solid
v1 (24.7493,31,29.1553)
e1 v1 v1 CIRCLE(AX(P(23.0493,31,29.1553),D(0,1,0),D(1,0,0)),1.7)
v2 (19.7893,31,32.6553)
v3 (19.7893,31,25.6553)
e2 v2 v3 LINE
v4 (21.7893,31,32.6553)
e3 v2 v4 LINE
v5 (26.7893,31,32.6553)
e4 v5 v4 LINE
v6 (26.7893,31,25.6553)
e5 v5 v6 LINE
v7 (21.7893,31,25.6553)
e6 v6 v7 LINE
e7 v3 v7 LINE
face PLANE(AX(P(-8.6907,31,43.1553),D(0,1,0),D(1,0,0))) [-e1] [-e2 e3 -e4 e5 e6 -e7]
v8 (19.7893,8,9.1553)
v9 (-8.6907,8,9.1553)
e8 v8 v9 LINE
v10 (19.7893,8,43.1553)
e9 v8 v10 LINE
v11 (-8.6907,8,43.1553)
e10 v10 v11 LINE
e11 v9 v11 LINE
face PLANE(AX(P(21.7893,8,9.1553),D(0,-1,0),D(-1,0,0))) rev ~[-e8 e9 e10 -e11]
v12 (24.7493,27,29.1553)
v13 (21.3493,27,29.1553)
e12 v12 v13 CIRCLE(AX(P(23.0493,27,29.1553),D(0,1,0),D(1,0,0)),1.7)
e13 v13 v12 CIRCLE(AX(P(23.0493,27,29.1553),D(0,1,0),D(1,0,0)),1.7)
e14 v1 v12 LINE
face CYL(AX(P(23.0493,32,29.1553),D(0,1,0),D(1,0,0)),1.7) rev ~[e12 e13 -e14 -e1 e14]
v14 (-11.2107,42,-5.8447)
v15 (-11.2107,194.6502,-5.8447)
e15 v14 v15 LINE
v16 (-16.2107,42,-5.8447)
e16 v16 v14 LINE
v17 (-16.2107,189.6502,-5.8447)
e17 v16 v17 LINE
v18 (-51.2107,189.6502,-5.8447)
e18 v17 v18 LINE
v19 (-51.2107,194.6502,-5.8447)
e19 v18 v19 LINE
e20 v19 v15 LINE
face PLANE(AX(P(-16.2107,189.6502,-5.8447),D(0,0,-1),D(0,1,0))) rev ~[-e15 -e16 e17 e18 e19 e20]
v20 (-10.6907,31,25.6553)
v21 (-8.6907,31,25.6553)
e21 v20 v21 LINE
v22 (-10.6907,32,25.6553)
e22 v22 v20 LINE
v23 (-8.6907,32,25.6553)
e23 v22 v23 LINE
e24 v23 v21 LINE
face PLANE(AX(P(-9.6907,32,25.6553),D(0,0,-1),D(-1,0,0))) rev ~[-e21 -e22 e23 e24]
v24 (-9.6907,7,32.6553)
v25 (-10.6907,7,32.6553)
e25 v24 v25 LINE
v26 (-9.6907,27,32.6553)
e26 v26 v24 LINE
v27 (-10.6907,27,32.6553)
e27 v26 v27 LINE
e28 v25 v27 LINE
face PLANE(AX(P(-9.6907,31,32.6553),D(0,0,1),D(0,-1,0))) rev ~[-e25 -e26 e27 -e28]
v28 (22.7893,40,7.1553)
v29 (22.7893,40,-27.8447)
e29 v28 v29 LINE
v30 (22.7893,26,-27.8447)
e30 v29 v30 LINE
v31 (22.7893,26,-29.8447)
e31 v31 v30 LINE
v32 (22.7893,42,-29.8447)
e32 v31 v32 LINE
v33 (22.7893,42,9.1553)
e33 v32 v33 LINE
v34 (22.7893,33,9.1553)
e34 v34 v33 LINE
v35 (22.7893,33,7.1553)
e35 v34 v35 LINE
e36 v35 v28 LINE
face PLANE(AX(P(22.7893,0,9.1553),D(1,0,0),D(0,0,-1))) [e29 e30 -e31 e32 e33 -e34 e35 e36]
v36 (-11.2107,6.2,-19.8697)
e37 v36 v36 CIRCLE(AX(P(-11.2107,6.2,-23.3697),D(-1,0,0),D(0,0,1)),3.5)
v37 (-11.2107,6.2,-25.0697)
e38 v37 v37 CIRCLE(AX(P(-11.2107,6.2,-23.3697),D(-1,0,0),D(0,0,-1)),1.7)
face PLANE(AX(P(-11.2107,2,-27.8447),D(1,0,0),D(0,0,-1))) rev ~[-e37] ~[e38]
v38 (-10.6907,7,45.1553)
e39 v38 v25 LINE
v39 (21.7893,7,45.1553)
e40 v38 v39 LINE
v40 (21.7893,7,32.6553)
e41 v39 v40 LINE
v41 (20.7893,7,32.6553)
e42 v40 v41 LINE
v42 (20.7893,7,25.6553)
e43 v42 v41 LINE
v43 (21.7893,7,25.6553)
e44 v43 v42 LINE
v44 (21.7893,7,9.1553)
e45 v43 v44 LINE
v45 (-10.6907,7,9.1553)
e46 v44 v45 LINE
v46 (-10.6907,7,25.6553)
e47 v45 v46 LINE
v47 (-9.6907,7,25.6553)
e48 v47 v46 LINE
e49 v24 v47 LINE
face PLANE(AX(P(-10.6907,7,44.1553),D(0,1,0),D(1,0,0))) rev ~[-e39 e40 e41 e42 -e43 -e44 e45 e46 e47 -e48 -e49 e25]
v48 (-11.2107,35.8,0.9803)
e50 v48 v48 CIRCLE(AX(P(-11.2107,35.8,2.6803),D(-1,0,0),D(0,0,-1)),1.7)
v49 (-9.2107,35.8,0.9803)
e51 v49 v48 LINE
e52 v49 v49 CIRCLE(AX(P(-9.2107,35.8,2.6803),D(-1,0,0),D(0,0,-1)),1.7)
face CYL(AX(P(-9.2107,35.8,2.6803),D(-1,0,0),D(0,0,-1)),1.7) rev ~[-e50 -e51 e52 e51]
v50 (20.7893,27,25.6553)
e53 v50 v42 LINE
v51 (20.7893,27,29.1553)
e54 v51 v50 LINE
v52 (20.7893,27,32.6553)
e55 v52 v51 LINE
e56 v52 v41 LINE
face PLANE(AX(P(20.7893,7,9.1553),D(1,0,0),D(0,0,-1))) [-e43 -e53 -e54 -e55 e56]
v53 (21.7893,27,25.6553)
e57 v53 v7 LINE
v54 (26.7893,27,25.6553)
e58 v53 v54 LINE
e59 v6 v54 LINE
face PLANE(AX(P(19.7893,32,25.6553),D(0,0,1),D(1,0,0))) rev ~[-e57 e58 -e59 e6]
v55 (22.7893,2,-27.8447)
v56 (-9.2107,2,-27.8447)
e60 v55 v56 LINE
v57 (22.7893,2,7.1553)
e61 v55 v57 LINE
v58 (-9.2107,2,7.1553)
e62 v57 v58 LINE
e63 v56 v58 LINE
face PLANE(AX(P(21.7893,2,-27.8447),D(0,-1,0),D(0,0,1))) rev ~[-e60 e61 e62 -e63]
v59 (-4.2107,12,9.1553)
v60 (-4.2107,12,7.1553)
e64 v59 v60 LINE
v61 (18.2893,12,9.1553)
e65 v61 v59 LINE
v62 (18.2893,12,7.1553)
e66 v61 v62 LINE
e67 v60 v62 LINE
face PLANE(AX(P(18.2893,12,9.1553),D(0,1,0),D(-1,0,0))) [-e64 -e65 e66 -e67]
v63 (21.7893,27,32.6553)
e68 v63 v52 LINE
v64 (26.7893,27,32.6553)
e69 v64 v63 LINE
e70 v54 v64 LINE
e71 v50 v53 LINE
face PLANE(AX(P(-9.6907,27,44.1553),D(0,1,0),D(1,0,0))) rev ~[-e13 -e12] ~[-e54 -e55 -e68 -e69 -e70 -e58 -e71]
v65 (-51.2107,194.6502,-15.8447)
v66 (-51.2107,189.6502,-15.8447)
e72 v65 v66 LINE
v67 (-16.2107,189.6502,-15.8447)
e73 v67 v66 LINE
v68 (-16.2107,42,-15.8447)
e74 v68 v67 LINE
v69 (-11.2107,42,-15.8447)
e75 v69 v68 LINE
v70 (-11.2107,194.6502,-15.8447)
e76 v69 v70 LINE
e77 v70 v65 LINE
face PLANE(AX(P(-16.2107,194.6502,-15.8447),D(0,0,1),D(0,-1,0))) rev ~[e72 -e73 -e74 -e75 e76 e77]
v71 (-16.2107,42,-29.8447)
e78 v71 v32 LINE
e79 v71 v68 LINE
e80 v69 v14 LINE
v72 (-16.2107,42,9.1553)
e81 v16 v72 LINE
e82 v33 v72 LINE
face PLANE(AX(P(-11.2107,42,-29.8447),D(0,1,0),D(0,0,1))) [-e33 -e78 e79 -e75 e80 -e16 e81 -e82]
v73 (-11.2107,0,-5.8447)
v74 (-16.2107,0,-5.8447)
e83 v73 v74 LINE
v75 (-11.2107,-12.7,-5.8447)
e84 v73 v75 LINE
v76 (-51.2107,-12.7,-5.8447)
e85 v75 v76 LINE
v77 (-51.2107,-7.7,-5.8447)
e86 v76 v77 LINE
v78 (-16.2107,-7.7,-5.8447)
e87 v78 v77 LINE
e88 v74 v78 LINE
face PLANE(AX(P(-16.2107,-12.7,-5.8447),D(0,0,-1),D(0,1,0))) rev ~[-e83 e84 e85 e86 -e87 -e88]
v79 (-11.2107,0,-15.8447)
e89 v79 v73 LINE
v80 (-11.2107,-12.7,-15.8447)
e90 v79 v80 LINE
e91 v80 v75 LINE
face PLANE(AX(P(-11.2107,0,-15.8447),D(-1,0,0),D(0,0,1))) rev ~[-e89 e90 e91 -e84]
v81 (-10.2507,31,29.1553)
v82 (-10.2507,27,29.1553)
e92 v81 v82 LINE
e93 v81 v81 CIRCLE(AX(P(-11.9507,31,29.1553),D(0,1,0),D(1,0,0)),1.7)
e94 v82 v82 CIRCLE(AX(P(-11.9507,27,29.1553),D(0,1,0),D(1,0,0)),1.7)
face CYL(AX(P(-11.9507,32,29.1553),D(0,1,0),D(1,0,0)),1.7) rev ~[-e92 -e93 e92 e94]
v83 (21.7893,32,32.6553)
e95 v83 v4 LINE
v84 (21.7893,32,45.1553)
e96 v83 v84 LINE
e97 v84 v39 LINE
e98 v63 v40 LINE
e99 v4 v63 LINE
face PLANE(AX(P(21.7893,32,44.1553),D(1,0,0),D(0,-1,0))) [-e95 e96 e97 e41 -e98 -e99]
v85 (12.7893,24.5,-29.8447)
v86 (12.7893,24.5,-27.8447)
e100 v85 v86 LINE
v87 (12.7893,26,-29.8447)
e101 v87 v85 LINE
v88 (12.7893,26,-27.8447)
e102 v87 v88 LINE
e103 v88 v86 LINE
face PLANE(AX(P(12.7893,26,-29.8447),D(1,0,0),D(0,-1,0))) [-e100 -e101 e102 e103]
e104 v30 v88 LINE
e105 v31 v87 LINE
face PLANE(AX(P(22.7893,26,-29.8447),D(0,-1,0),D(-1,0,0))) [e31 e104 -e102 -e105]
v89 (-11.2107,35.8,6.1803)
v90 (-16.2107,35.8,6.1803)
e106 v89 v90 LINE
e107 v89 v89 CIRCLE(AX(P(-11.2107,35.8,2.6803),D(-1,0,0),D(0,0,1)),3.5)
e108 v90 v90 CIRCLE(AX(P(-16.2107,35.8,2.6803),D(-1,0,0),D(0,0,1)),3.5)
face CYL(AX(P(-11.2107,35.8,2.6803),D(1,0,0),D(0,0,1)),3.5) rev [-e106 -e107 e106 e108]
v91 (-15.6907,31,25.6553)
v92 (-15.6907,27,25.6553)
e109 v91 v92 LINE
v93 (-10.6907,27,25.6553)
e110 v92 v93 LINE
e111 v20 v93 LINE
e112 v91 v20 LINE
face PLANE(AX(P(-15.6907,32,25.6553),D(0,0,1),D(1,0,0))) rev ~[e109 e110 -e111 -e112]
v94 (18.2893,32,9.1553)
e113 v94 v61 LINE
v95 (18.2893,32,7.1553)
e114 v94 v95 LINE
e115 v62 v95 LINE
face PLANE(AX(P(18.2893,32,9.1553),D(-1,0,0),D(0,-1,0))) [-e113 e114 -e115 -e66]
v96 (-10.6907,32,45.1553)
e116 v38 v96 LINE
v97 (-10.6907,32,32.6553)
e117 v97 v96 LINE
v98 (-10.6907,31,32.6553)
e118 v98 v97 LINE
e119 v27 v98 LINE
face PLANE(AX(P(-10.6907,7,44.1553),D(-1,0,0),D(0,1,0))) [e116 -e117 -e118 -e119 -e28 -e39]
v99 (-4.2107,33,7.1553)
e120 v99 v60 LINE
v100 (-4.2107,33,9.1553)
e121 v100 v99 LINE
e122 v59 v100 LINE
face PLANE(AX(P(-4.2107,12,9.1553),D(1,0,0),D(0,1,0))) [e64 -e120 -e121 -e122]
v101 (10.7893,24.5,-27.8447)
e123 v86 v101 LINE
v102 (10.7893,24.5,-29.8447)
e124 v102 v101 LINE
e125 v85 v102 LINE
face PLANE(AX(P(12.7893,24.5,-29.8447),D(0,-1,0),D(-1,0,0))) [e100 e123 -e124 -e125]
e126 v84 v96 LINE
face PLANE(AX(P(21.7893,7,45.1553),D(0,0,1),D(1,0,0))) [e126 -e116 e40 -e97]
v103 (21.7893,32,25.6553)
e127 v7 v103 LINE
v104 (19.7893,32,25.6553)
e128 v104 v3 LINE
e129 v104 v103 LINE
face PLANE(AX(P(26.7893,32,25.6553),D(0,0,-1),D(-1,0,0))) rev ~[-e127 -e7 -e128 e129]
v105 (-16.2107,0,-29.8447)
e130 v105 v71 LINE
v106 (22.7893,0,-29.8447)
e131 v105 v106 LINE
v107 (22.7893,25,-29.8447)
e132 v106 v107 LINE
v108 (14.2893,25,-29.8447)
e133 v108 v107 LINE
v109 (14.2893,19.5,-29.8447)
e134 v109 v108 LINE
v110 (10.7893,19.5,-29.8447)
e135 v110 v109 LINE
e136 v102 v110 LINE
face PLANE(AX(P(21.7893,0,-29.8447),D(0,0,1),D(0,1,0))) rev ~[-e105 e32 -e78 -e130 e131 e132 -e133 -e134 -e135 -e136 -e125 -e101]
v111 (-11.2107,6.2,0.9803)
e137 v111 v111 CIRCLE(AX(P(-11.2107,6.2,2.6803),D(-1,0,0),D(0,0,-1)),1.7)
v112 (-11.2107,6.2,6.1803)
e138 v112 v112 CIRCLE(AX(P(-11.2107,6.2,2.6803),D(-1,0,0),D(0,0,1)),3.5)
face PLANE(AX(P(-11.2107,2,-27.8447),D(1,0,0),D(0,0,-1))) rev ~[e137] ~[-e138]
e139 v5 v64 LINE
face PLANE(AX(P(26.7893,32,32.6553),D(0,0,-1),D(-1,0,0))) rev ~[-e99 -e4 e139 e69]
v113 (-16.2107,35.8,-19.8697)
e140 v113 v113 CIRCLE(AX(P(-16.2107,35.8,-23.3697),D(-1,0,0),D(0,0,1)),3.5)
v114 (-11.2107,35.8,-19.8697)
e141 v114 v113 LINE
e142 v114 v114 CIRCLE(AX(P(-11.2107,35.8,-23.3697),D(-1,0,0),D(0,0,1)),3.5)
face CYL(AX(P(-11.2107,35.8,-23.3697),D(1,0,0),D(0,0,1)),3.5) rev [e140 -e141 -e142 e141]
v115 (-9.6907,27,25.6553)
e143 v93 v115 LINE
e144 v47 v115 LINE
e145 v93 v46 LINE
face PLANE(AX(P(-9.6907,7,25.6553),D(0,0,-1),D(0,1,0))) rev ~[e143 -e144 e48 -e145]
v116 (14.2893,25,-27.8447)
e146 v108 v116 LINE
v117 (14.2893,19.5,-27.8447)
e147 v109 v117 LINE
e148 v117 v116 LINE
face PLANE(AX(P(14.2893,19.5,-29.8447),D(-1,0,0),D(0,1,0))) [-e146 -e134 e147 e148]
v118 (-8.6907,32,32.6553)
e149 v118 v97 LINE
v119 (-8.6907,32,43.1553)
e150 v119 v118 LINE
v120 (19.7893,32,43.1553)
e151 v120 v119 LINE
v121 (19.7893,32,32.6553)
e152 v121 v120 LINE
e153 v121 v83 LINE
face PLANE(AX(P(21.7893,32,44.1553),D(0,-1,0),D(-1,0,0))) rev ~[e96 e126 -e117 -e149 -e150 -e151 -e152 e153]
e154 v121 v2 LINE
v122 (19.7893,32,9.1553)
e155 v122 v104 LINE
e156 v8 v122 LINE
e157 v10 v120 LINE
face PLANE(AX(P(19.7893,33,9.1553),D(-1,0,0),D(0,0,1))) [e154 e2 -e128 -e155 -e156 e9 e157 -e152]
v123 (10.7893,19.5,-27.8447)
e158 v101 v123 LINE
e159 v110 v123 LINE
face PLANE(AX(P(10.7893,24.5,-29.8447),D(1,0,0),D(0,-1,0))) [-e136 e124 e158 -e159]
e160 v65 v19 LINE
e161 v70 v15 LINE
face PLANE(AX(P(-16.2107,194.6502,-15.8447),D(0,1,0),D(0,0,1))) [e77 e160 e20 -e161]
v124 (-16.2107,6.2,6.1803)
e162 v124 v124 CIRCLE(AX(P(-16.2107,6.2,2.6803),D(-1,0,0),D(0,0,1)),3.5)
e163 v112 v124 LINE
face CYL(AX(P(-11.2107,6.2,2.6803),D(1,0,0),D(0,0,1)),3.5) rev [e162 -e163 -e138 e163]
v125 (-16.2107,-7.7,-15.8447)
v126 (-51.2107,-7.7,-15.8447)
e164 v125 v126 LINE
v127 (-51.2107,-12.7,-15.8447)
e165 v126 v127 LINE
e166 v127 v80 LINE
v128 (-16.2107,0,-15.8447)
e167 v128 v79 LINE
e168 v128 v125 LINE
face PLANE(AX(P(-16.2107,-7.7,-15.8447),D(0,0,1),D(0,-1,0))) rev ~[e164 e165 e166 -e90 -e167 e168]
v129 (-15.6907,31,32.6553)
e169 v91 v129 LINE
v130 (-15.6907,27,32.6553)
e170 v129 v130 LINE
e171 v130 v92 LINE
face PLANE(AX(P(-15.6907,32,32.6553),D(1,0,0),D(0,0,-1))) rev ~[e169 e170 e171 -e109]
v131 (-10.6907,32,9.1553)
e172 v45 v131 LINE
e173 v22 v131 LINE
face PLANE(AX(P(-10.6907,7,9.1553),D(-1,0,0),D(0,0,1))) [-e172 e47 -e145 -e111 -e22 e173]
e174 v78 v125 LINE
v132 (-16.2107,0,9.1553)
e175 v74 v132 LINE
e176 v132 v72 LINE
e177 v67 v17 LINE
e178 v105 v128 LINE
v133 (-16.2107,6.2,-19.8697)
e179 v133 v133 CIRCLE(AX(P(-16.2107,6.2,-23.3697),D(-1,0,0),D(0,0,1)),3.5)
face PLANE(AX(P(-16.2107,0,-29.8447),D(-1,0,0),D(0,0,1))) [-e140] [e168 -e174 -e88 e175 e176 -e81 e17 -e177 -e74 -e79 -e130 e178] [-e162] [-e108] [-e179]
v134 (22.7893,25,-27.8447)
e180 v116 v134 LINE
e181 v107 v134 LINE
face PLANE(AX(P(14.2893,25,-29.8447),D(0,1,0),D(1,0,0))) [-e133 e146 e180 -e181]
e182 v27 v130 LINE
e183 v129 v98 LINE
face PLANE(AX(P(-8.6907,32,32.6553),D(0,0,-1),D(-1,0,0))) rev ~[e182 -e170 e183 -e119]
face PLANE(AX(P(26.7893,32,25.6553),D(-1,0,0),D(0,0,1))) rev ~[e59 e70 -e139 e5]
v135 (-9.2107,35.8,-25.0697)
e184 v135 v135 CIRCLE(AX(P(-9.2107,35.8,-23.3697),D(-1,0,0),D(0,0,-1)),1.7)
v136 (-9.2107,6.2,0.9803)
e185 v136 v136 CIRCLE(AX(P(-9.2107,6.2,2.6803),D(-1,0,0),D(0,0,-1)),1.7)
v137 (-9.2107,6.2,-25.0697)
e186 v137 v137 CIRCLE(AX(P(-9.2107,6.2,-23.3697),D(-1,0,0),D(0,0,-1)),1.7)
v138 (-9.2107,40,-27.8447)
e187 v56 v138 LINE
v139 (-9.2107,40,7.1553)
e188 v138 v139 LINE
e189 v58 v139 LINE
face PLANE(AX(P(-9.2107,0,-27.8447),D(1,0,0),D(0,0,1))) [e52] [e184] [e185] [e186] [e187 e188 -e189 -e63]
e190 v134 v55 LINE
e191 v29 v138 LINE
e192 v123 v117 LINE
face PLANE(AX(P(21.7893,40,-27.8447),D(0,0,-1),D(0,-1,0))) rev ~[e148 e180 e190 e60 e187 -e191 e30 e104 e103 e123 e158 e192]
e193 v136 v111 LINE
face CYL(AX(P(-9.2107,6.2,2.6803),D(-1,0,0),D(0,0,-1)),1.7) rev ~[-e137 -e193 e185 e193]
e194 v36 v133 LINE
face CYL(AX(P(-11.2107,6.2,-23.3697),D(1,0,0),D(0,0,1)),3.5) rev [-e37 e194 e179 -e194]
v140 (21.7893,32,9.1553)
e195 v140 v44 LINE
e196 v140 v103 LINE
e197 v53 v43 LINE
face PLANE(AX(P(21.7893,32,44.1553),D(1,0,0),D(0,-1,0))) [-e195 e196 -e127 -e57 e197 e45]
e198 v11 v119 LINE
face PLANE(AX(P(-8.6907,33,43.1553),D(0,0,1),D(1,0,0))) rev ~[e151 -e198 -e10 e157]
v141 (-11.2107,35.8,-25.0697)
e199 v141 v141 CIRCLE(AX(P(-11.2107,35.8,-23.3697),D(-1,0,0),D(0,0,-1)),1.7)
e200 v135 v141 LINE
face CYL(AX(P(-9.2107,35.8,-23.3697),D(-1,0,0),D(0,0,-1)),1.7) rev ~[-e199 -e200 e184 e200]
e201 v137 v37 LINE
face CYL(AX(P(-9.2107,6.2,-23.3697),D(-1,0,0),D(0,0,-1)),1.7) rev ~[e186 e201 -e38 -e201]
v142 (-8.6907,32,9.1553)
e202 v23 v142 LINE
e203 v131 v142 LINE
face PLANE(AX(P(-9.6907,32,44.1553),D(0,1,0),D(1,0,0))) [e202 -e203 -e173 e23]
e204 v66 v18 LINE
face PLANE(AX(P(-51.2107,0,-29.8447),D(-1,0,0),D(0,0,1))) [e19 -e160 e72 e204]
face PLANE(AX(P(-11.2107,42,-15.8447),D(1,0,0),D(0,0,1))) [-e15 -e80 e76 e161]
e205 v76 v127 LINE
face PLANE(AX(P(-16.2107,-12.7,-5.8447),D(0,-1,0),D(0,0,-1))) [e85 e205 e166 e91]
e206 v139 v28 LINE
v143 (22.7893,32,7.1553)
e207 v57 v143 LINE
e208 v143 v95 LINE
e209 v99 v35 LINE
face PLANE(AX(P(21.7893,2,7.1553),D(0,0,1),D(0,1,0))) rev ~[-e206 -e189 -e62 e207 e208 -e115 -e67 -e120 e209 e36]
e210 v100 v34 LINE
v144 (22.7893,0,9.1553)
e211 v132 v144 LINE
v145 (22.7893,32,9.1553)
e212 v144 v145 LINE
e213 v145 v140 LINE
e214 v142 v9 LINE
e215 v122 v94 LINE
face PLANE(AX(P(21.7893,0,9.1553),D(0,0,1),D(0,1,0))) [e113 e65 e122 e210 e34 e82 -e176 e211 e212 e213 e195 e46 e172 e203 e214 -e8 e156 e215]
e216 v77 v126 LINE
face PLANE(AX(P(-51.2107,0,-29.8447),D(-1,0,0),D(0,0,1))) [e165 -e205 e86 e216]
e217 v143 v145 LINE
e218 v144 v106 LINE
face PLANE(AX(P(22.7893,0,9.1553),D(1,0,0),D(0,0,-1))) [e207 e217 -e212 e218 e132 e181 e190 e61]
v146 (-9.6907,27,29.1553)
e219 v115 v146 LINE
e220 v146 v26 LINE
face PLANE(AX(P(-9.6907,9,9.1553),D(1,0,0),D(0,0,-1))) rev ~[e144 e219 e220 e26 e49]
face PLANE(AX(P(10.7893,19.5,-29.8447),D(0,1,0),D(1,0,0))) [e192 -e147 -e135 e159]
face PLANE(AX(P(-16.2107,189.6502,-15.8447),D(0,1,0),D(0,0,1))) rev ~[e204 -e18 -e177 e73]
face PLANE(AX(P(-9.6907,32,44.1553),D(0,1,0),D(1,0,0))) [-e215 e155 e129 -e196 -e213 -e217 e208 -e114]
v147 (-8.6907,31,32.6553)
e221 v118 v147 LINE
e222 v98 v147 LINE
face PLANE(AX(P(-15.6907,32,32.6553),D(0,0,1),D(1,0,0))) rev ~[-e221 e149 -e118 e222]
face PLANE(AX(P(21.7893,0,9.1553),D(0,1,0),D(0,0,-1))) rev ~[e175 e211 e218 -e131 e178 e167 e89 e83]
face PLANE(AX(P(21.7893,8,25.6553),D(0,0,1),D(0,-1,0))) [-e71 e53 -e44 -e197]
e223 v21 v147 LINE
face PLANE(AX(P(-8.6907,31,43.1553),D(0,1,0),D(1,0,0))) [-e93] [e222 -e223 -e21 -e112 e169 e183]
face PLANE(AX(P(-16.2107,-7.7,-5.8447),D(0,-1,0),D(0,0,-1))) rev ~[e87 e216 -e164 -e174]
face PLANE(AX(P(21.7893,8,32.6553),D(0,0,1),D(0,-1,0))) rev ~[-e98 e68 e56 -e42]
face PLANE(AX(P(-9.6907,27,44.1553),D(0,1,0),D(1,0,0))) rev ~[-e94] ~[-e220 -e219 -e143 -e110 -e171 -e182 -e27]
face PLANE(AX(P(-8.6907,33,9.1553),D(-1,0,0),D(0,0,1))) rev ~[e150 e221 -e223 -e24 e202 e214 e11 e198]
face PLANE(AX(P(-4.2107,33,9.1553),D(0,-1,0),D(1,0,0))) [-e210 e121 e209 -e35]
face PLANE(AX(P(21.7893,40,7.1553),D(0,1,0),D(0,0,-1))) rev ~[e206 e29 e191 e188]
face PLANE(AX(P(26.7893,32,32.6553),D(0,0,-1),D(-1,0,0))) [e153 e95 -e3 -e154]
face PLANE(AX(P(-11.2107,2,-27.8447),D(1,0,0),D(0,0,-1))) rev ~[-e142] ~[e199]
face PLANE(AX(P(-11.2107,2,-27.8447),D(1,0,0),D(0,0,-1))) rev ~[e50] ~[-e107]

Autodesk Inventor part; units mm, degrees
ref_plane "YZ Plane" through (0, 0, 0) normal (1, 0, 0) x (0, 1, 0)
ref_plane "XZ Plane" through (0, 0, 0) normal (0, 1, 0) x (-1, 0, 0)
ref_plane "XY Plane" through (0, 0, 0) normal (0, 0, 1) x (1, 0, 0)
sketch "Sketch1" plane through (0, 0, 0) normal (0, 1, 0) x (-1, 0, 0)
  line L0 (9.2107, 7.1553) -> (-19.7893, 7.1553)
  line L1 (-19.7893, 7.1553) -> (-19.7893, -27.8447)
  line L2 (-19.7893, -27.8447) -> (9.2107, -27.8447)
  line L3 (9.2107, -27.8447) -> (9.2107, 7.1553)
  line L4 (9.2107, 7.1553) -> (11.2107, 7.1553)
  line L5 (11.2107, 7.1553) -> (11.2107, 9.1553)
  line L6 (11.2107, 9.1553) -> (-21.7893, 9.1553)
  line L7 (-21.7893, 9.1553) -> (-21.7893, -29.8447)
  line L8 (-21.7893, -29.8447) -> (11.2107, -29.8447)
  line L9 (11.2107, -29.8447) -> (11.2107, 7.1553)
  point P0 (0, 0)
  dimension "d0" = 29
  dimension "d1" = 35
  dimension "d2" = 2
  dimension "d3" = 2
  dimension "d4" = 33
  dimension "d5" = 39
extrude "Extrusion1" add sketch "Sketch1" along normal blind 2 contours L3 L2 L1 L0
extrude "Extrusion2" add sketch "Sketch1" along normal blind 40
sketch "Sketch2" plane through (21.7893, 0, -29.8447) normal (1, 0, 0) x (0, 0, -1)
  line L0 (-37, 2) -> (-37, 40) projected
  line L1 (-37, 40) -> (-37, 2)
  line L2 (-2, 2) -> (-2, 40) projected
  line L3 (-37, 2) -> (-2, 2)
  line L4 (-2, 2) -> (-2, 40)
  line L5 (-37, 40) -> (-2, 40) projected
  line L6 (-2, 40) -> (-37, 40)
extrude "Extrusion3" cut sketch "Sketch2" against normal blind 10
sketch "Sketch3" plane through (-9.2107, 2, -27.8447) normal (1, 0, 0) x (0, 0, -1)
  line L0 (0, 0) -> (0, 38) projected
  line L1 (0, 0) -> (0, 4.2)
  line L2 (0, 4.2) -> (-4.475, 4.2)
  line L3 (-35, 0) -> (-35, 38) projected
  line L4 (-4.475, 4.2) -> (-30.525, 4.2)
  line L5 (-30.525, 4.2) -> (-30.525, 33.8)
  line L6 (-30.525, 33.8) -> (-4.475, 33.8)
  line L7 (-4.475, 33.8) -> (-4.475, 4.2)
  point P0 (-27.8447, -2)
  dimension "d12" = 4.2
  dimension "d13" = 4.475
  dimension "d14" = 26.05
  dimension "d15" = 29.6
hole "Hole1" at (-9.2107, 35.8, 2.6803) at (-9.2107, 35.8, -23.3697) at (-9.2107, 6.2, -23.3697) at (-9.2107, 6.2, 2.6803) direction (-1, 0, 0) diameter 3.4 end through all clearance for "Flat Head Machine Screw" size "M3" standard "Ansi Metric M Profile"
sketch "Sketch4" plane through (-11.2107, 2, -27.8447) normal (1, 0, 0) x (0, 0, -1)
  line L0 (-37, 38) -> (-35, 38) projected
  line L1 (-37, 38) -> (2, 38)
  line L2 (2, 38) -> (2, 40)
  line L3 (2, 40) -> (-37, 40)
  line L4 (-37, 40) -> (-37, 38)
  point P0 (-27.8447, -2)
  dimension "d23" = 39
  dimension "d24" = 2
extrude "Extrusion4" add sketch "Sketch4" along normal blind 33
sketch "Sketch5" plane through (21.7893, 0, 9.1553) normal (1, 0, 0) x (0, 0, -1)
  point P0 (9.1553, 0)
sketch "Sketch6" plane through (-11.2107, 0, -29.8447) normal (-1, 0, 0) x (0, 0, 1)
  point P0 (29.8447, 0)
sketch "Sketch7" plane through (-11.2107, 0, -29.8447) normal (-1, 0, 0) x (0, 0, 1)
  circle A0 centre (6.475, 6.2) radius 1.7 projected
  circle A1 centre (32.525, 35.8) radius 1.7 projected
  circle A2 centre (6.475, 35.8) radius 1.7 projected
  circle A3 centre (32.525, 6.2) radius 1.7 projected
  line L0 (0, 0) -> (39, 0) projected
  line L1 (39, 0) -> (39, 42) projected
  line L2 (0, 42) -> (39, 42) projected
  line L3 (0, 0) -> (0, 42) projected
  circle A4 centre (6.475, 6.2) radius 1.7 projected
  circle A5 centre (6.475, 6.2) radius 3.5
  circle A6 centre (6.475, 35.8) radius 3.5
  circle A7 centre (32.525, 35.8) radius 3.5
  circle A8 centre (32.525, 6.2) radius 1.7 projected
  circle A9 centre (32.525, 6.2) radius 3.5
  point P0 (29.8447, 0)
  dimension "d27" = 7
  dimension "d28" = 7
  dimension "d29" = 7
  dimension "d30" = 7
extrude "Extrusion5" add sketch "Sketch7" along normal blind 5 contours L3 L2 L1 L0
sketch "Sketch8" plane through (21.7893, 0, 9.1553) normal (0, 0, 1) x (1, 0, 0)
  line L0 (0, 0) -> (0, 42) projected
  line L1 (0, 42) -> (0, 32)
  line L2 (0, 32) -> (-3.5, 32)
  line L3 (-3.5, 32) -> (-3.5, 12)
  line L4 (-3.5, 32) -> (16.5, 32) construction
  line L5 (-3.5, 12) -> (-26, 12)
  line L6 (-26, 12) -> (-26, 32)
  line L7 (-26, 32) -> (-3.5, 32)
  point P0 (-21.7893, 0)
  dimension "d33" = 10
  dimension "d34" = 3.5
  dimension "d35" = 20
  dimension "d36" = 90
  dimension "d37" = 22.5
extrude "Extrusion6" cut sketch "Sketch8" against normal blind 10
sketch "Sketch9" plane through (21.7893, 0, 9.1553) normal (0, 0, 1) x (1, 0, 0)
  line L0 (-26, 32) -> (-3.5, 32) projected
  line L1 (-26, 32) -> (-26, 33)
  line L2 (-26, 33) -> (0, 33)
  line L3 (0, 2) -> (0, 40) projected
  line L4 (0, 32) -> (-10.0622, 32)
  point P0 (-21.7893, 0)
  dimension "d40" = 1
extrude "Extrusion7" cut sketch "Sketch9" against normal blind 10
sketch "Sketch10" plane through (-16.2107, 42, 9.1553) normal (0, 0, 1) x (1, 0, 0)
  line L0 (38, -10) -> (34.5, -10) projected
  line L1 (38, -10) -> (38, -34)
  line L2 (38, -40) -> (38, -10) projected
  line L3 (0, -42) -> (0, 0) projected
  line L4 (38, -34) -> (7.52, -34)
  line L5 (7, -40) -> (7, -2) projected
  line L6 (7.52, -34) -> (7.52, -10)
  line L7 (7.52, -10) -> (38, -10)
  line L8 (38, -34) -> (38, -35)
  line L9 (38, -35) -> (6.52, -35)
  line L10 (6.52, -35) -> (6.52, -9)
  line L11 (6.52, -9) -> (38, -9)
  line L12 (38, -2) -> (38, -40) projected
  line L13 (38, -10) -> (38, -9)
  point P0 (16.2107, -42)
  dimension "d43" = 24
  dimension "d44" = 30.48
  dimension "d45" = 1
  dimension "d46" = 31.48
  dimension "d47" = 26
extrude "Extrusion8" add sketch "Sketch10" along normal blind 34 contours L0 L7 L6 L4 L2 L9 L5 L11 L12 | L5 L9 L10 L11
sketch "Sketch11" plane through (-9.6907, 9, 9.1553) normal (1, 0, 0) x (0, 0, -1)
  line L0 (-34, -2) -> (-34, -1) projected
  line L1 (-34, -2) -> (-35, -2)
  line L2 (-35, -2) -> (-35, 24)
  line L3 (0, 24) -> (-34, 24) projected
  line L4 (-35, 24) -> (-34, 24)
  line L5 (-34, 24) -> (-34, -2)
  point P0 (9.1553, -9)
  point P1 (0, 26)
  point P2 (-34, -1)
  dimension "d50" = 1
extrude "Extrusion9" add sketch "Sketch11" along normal blind 29.48
sketch "Sketch16" plane through (-9.6907, 7, 9.1553) normal (0, -1, 0) x (1, 0, 0)
  line L0 (0, 35) -> (29.48, 35) projected
  line L1 (29.48, 35) -> (30.48, 35)
  line L2 (30.48, 35) -> (30.48, 0)
  line L3 (30.48, 0) -> (29.48, 0)
  line L4 (29.48, 0) -> (29.48, 35)
  point P0 (9.6907, -9.1553)
  dimension "d69" = 1
  dimension "d70" = 35
extrude "Extrusion14" add sketch "Sketch16" against normal blind 26
sketch "Sketch17" plane through (-4.2107, 33, 9.1553) normal (0, 1, 0) x (1, 0, 0)
  line L0 (24, 0) -> (24, -34) projected
  line L1 (-4.48, -34) -> (24, -34) projected
  line L2 (24, -34) -> (-4.48, -34)
  line L3 (-4.48, 0) -> (-4.48, -34) projected
  line L4 (-4.48, -34) -> (-4.48, 0)
  line L5 (-4.48, 0) -> (26, 0)
  line L6 (25, -34) -> (25, 0) projected
  line L7 (0, 0) -> (26, 0) projected
  line L8 (-5.48, 0) -> (0, 0) projected
  line L9 (-5.48, 0) -> (-5.48, -35) projected
  line L10 (-5.48, -35) -> (25, -35) projected
  line L11 (25, -35) -> (25, -34) projected
  line L12 (26, -34) -> (25, -34) projected
  line L13 (26, 0) -> (26, -34) projected
  point P0 (4.2107, 9.1553)
extrude "Extrusion15" cut sketch "Sketch17" against normal blind 10 contours L0 L1 L3 L5
sketch "Sketch18" plane through (-9.6907, 33, 44.1553) normal (0, 1, 0) x (1, 0, 0)
  line L0 (1, 1) -> (1, 35) projected
  line L1 (0, 35) -> (1, 35) projected
  line L2 (0, 35) -> (0, 0) projected
  line L3 (0, 0) -> (30.48, 0) projected
  line L4 (30.48, 0) -> (30.48, 1) projected
  line L5 (29.48, 1) -> (1, 1) projected
  line L6 (31.48, 1) -> (30.48, 1) projected
  line L7 (31.48, 35) -> (31.48, 1) projected
  line L8 (29.48, 35) -> (29.48, 1) projected
  line L9 (29.48, 35) -> (31.48, 35) projected
  point P0 (9.6907, 44.1553)
extrude "Extrusion16" cut sketch "Sketch18" against normal blind 1
sketch "Sketch19" plane through (21.7893, 0, 9.1553) normal (1, 0, 0) x (0, 0, -1)
  line L0 (0, 0) -> (0, 7) projected
  line L1 (0, 0) -> (39, 0) projected
  line L2 (39, 0) -> (39, 42) projected
  line L3 (39, 42) -> (0, 42) projected
  line L4 (0, 33) -> (0, 42) projected
  line L5 (0, 33) -> (2, 33) projected
  line L6 (2, 33) -> (2, 40) projected
  line L7 (2, 40) -> (37, 40) projected
  line L8 (37, 40) -> (37, 2) projected
  line L9 (37, 2) -> (2, 2) projected
  line L10 (2, 2) -> (2, 32) projected
  line L11 (2, 32) -> (0, 32) projected
  line L12 (0, 8) -> (0, 32) projected
  line L13 (0, 8) -> (-34, 8) projected
  line L14 (-34, 7) -> (-34, 8) projected
  line L15 (0, 7) -> (-34, 7) projected
  line L16 (0, 7) -> (0, 8)
  line L17 (0, 0) -> (0, 42) projected
  point P0 (9.1553, 0)
extrude "Extrusion17" add sketch "Sketch19" along normal blind 1 contours L0 L16 L12 L11 L10 L9 L8 L7 L6 L5 L4 L3 L2 L1
sketch "Sketch20" plane through (-9.6907, 32, 44.1553) normal (0, 1, 0) x (1, 0, 0)
  line L0 (29.48, 1) -> (1, 1) projected
  line L1 (15.24, 1) -> (15.24, 15)
  line L2 (15.24, 15) -> (32.74, 15)
  line L3 (32.74, 15) -> (-2.26, 15)
  line L4 (1, 35) -> (1, 1) projected
  line L5 (1, 15) -> (1, 11.5)
  line L6 (1, 11.5) -> (-6, 11.5)
  line L7 (-6, 11.5) -> (-6, 18.5)
  line L8 (-6, 18.5) -> (1, 18.5)
  line L9 (1, 11.5) -> (1, 18.5)
  line L10 (29.48, 1) -> (29.48, 35) projected
  line L11 (29.48, 18.5) -> (36.48, 18.5)
  line L12 (36.48, 18.5) -> (36.48, 11.5)
  line L13 (36.48, 11.5) -> (29.48, 11.5)
  circle A0 centre (-2.26, 15) radius 1.7
  circle A1 centre (32.74, 15) radius 1.7
  point P0 (9.6907, 44.1553)
  point P1 (30.48, 1)
  dimension "d79" = 14
  dimension "d80" = 17.5
  dimension "d81" = 90
  dimension "d82" = 35
  dimension "d83" = 3.5
  dimension "d84" = 7
  dimension "d85" = 7
  dimension "d86" = 7
  dimension "d87" = 3.4
  dimension "d88" = 3.4
extrude "Extrusion18" add sketch "Sketch20" against normal blind 5 contours L10 L11 L12 L13 | L6 L7 L8 L4
sketch "Sketch21" plane through (-8.6907, 32, 43.1553) normal (0, 1, 0) x (1, 0, 0)
  line L0 (29.48, 17.5) -> (29.48, 10.5) projected
  line L1 (29.48, 17.5) -> (28.48, 17.5)
  line L2 (28.48, 0) -> (28.48, 34) projected
  line L3 (35.48, 10.5) -> (29.48, 10.5) projected
  line L4 (29.48, 10.5) -> (28.48, 10.5)
  line L5 (28.48, 10.5) -> (28.48, 17.5)
  line L6 (-1, 17.5) -> (-7, 17.5) projected
  line L7 (-1, 17.5) -> (0, 17.5)
  line L8 (0, 34) -> (0, 0) projected
  line L9 (-1, 10.5) -> (-1, 17.5)
  line L10 (-1, 34) -> (-1, -1) projected
  line L11 (-1, -1) -> (-1, 10.5) projected
  line L12 (-1, 10.5) -> (0, 10.5)
  line L13 (0, 10.5) -> (0, 17.5)
  line L14 (29.48, 10.5) -> (29.48, -1) projected
  line L15 (26.98, 36) -> (31.48, 36) projected
  line L16 (26.98, 34) -> (26.98, 36) projected
  line L17 (28.48, 34) -> (26.98, 34) projected
  line L18 (0, 34) -> (0, 0) projected
  line L19 (-1, 34) -> (0, 34) projected
  line L20 (-1, 17.5) -> (-1, 34) projected
  line L21 (-1, 17.5) -> (-7, 17.5) projected
  line L22 (-7, 17.5) -> (-7, 10.5) projected
  line L23 (-7, 10.5) -> (-1, 10.5) projected
  line L24 (-1, -1) -> (-1, 10.5) projected
  line L25 (29.48, -1) -> (-1, -1) projected
  line L26 (31.48, 34) -> (29.48, 34) projected
  line L27 (31.48, 36) -> (31.48, 34) projected
  line L28 (28.48, 0) -> (28.48, 34) projected
  line L29 (0, 0) -> (28.48, 0) projected
  line L30 (29.48, 10.5) -> (35.48, 10.5) projected
  line L31 (35.48, 10.5) -> (35.48, 17.5) projected
  line L32 (35.48, 17.5) -> (29.48, 17.5) projected
  line L33 (29.48, 34) -> (29.48, 17.5) projected
  point P0 (8.6907, 43.1553)
  point P1 (30.1371, 10.5)
  point P2 (29.48, 17.5)
  point P3 (-7, 17.5)
extrude "Extrusion19" cut sketch "Sketch21" against normal blind 1 contours L32 L31 L3 L0 | L0 L4 L2 L1 | L23 L22 L6 L9 | L9 L7 L8 L12
sketch "Sketch30" plane through (20.7893, 7, 44.1553) normal (1, 0, 0) x (0, 0, -1)
  line L0 (11.5, 25) -> (0, 25) projected
  line L1 (0, 0) -> (0, 25) projected
  line L2 (1, 0) -> (0, 0) projected
  line L3 (1, 0) -> (0, 0) projected
  line L4 (35, 0) -> (37, 0)
  line L5 (1, 1) -> (1, 0) projected
  line L6 (35, 1) -> (1, 1) projected
  line L7 (35, 25) -> (35, 1) projected
  line L8 (35, 25) -> (18.5, 25) projected
  line L9 (18.5, 24) -> (18.5, 20) projected
  line L10 (18.5, 20) -> (11.5, 20) projected
  line L11 (11.5, 20) -> (11.5, 24) projected
  line L12 (18.5, 25) -> (18.5, 24) projected
  line L13 (11.5, 24) -> (11.5, 25) projected
  line L14 (18.5, 20) -> (18.5, 0)
  line L15 (35, 0) -> (0, 0) projected
  line L16 (11.5, 20) -> (18.5, 20) projected
  line L17 (11.5, 20) -> (11.5, 0)
  line L18 (35, 1) -> (1, 1) projected
  line L19 (11.5, 1) -> (11.5, 0)
  line L20 (35, 0) -> (1, 0) projected
  line L21 (18.5, 1) -> (18.5, 0)
  point P0 (44.1553, -7)
extrude "Extrusion25" add sketch "Sketch30" along normal blind 1 contours L13 L11 L17 L6 L5 L2 L1 L0 | L9 L12 L8 L7 L6 L14
sketch "Sketch31" plane through (-9.6907, 7, 9.1553) normal (-1, 0, 0) x (0, 0, 1)
  line L0 (16.5, 20) -> (16.5, 24) projected
  line L1 (16.5, 25) -> (0, 25) projected
  line L2 (0, 0) -> (0, 25) projected
  line L3 (0, 0) -> (35, 0) projected
  line L4 (35, 25) -> (35, 0) projected
  line L5 (35, 25) -> (23.5, 25) projected
  line L6 (23.5, 24) -> (23.5, 20) projected
  line L7 (23.5, 20) -> (16.5, 20) projected
  line L8 (23.5, 25) -> (23.5, 24) projected
  line L9 (16.5, 24) -> (16.5, 25) projected
  line L10 (0, 0) -> (35, 0) projected
  line L11 (16.5, 20) -> (23.5, 20)
  line L12 (23.5, 20) -> (23.5, 0)
  line L13 (23.5, 0) -> (16.5, 0)
  line L14 (16.5, 0) -> (16.5, 20)
  point P0 (-9.1553, -7)
  point P1 (23.5, 20)
  point P2 (23.5, 0)
  point P3 (16.5, 0)
extrude "Extrusion26" add sketch "Sketch31" along normal blind 1 contours L14 L3 L2 L1 L9 L0 | L6 L8 L5 L4 L3 L12
sketch "Sketch32" plane through (21.7893, 7, 44.1553) normal (0, 0, 1) x (1, 0, 0)
  line L0 (0, 25) -> (-32.48, 25) projected
  line L1 (-32.48, 0) -> (-32.48, 25) projected
  line L2 (-32.48, 0) -> (0, 0) projected
  line L3 (0, 25) -> (0, 0) projected
  point P0 (-21.7893, -7)
extrude "Extrusion27" add sketch "Sketch32" along normal blind 1
sketch "Sketch25" plane through (0, 0, 0) normal (0, -1, 0) x (1, 0, 0)
  line L0 (-16.2107, -29.8447) -> (-16.2107, 9.1553) projected
  line L1 (-16.2107, 9.1553) -> (-16.2107, -5.8447)
  line L2 (-16.2107, -5.8447) -> (-16.2107, -15.8447)
  line L3 (-16.2107, -15.8447) -> (-11.2107, -15.8447)
  line L4 (-11.2107, -15.8447) -> (-11.2107, -5.8447)
  line L5 (-11.2107, -5.8447) -> (-16.2107, -5.8447)
  point P0 (0, 0)
  dimension "d118" = 15
  dimension "d119" = 10
  dimension "d120" = 5
extrude "Extrusion21" add sketch "Sketch25" along normal blind 12.7
sketch "Sketch26" plane through (-16.2107, 0, -29.8447) normal (-1, 0, 0) x (0, 0, 1)
  line L0 (24, -12.7) -> (14, -12.7) projected
  line L1 (24, -12.7) -> (24, -7.7)
  line L2 (24, 0) -> (24, -12.7) projected
  line L3 (24, -7.7) -> (14, -7.7)
  line L4 (14, 0) -> (14, -12.7) projected
  line L5 (14, -12.7) -> (14, -7.7)
  point P0 (29.8447, 0)
  dimension "d123" = 5
extrude "Extrusion22" add sketch "Sketch26" along normal blind 35
sketch "Sketch27" plane through (-16.2107, 42, 9.1553) normal (0, 1, 0) x (1, 0, 0)
  line L0 (0, 25) -> (0, 15) projected
  line L1 (5, 25) -> (0, 25) projected
  line L2 (0, 25) -> (5, 25)
  line L3 (0, 15) -> (5, 15) projected
  line L4 (5, 25) -> (5, 15)
  line L5 (5, 15) -> (0, 15)
  point P0 (16.2107, 9.1553)
extrude "Extrusion23" add sketch "Sketch27" along normal blind 152.6502
sketch "Sketch28" plane through (-16.2107, 0, -29.8447) normal (-1, 0, 0) x (0, 0, 1)
  line L0 (14, 194.6502) -> (24, 194.6502) projected
  line L1 (14, 194.6502) -> (14, 189.6502)
  line L2 (14, 42) -> (14, 194.6502) projected
  line L3 (14, 189.6502) -> (24, 189.6502)
  line L4 (24, 42) -> (24, 194.6502) projected
  line L5 (24, 194.6502) -> (14, 194.6502)
  point P0 (29.8447, 0)
  dimension "d128" = 5
extrude "Extrusion24" add sketch "Sketch28" along normal blind 35
sketch "Sketch34" plane through (21.7893, 7, 9.1553) normal (1, 0, 0) x (0, 0, -1)
  line L0 (-16.5, 1) -> (-23.5, 1) projected
  line L1 (-23.5, 1) -> (-23.5, 0)
  line L2 (0, 0) -> (-36, 0) projected
  line L3 (-23.5, 1) -> (-23.5, 20) projected
  line L4 (-16.5, 1) -> (-16.5, 20) projected
  line L5 (-23.5, 1) -> (-16.5, 1)
  line L6 (-16.5, 20) -> (-16.5, 0) projected
  line L7 (-16.5, 1) -> (-16.5, 0)
  line L8 (-16.5, 0) -> (-23.5, 0)
  point P0 (9.1553, -7)
extrude "Extrusion28" cut sketch "Sketch34" against normal blind 1
sketch "Sketch35" plane through (-16.2107, 0, -29.8447) normal (0, 0, -1) x (-1, 0, 0)
  line L0 (0, 42) -> (-39, 42) projected
  line L1 (-39, 42) -> (-39, 26)
  line L2 (-39, 0) -> (-39, 42) projected
  line L3 (-39, 26) -> (-29, 26)
  line L4 (-29, 26) -> (-29, 24.5)
  line L5 (-29, 24.5) -> (-27, 24.5)
  line L6 (-27, 24.5) -> (-27, 19.5)
  line L7 (-27, 19.5) -> (-30.5, 19.5)
  line L8 (-30.5, 24.5) -> (-39, 24.5)
  line L9 (-30.5, 19.5) -> (-30.5, 25)
  line L10 (-30.5, 25) -> (-39, 25)
  line L11 (-39, 26) -> (-39, 25)
  point P0 (-16.2107, 0)
  dimension "d139" = 16
  dimension "d140" = 10
  dimension "d141" = 1.5
  dimension "d142" = 2
  dimension "d143" = 5
  dimension "d144" = 3.5
  dimension "d145" = 5.5
extrude "Extrusion29" cut sketch "Sketch35" against normal blind 10 contours L2 L3 L4 L5 L6 L7 L9 L10
properties part number "shell 5.0"
